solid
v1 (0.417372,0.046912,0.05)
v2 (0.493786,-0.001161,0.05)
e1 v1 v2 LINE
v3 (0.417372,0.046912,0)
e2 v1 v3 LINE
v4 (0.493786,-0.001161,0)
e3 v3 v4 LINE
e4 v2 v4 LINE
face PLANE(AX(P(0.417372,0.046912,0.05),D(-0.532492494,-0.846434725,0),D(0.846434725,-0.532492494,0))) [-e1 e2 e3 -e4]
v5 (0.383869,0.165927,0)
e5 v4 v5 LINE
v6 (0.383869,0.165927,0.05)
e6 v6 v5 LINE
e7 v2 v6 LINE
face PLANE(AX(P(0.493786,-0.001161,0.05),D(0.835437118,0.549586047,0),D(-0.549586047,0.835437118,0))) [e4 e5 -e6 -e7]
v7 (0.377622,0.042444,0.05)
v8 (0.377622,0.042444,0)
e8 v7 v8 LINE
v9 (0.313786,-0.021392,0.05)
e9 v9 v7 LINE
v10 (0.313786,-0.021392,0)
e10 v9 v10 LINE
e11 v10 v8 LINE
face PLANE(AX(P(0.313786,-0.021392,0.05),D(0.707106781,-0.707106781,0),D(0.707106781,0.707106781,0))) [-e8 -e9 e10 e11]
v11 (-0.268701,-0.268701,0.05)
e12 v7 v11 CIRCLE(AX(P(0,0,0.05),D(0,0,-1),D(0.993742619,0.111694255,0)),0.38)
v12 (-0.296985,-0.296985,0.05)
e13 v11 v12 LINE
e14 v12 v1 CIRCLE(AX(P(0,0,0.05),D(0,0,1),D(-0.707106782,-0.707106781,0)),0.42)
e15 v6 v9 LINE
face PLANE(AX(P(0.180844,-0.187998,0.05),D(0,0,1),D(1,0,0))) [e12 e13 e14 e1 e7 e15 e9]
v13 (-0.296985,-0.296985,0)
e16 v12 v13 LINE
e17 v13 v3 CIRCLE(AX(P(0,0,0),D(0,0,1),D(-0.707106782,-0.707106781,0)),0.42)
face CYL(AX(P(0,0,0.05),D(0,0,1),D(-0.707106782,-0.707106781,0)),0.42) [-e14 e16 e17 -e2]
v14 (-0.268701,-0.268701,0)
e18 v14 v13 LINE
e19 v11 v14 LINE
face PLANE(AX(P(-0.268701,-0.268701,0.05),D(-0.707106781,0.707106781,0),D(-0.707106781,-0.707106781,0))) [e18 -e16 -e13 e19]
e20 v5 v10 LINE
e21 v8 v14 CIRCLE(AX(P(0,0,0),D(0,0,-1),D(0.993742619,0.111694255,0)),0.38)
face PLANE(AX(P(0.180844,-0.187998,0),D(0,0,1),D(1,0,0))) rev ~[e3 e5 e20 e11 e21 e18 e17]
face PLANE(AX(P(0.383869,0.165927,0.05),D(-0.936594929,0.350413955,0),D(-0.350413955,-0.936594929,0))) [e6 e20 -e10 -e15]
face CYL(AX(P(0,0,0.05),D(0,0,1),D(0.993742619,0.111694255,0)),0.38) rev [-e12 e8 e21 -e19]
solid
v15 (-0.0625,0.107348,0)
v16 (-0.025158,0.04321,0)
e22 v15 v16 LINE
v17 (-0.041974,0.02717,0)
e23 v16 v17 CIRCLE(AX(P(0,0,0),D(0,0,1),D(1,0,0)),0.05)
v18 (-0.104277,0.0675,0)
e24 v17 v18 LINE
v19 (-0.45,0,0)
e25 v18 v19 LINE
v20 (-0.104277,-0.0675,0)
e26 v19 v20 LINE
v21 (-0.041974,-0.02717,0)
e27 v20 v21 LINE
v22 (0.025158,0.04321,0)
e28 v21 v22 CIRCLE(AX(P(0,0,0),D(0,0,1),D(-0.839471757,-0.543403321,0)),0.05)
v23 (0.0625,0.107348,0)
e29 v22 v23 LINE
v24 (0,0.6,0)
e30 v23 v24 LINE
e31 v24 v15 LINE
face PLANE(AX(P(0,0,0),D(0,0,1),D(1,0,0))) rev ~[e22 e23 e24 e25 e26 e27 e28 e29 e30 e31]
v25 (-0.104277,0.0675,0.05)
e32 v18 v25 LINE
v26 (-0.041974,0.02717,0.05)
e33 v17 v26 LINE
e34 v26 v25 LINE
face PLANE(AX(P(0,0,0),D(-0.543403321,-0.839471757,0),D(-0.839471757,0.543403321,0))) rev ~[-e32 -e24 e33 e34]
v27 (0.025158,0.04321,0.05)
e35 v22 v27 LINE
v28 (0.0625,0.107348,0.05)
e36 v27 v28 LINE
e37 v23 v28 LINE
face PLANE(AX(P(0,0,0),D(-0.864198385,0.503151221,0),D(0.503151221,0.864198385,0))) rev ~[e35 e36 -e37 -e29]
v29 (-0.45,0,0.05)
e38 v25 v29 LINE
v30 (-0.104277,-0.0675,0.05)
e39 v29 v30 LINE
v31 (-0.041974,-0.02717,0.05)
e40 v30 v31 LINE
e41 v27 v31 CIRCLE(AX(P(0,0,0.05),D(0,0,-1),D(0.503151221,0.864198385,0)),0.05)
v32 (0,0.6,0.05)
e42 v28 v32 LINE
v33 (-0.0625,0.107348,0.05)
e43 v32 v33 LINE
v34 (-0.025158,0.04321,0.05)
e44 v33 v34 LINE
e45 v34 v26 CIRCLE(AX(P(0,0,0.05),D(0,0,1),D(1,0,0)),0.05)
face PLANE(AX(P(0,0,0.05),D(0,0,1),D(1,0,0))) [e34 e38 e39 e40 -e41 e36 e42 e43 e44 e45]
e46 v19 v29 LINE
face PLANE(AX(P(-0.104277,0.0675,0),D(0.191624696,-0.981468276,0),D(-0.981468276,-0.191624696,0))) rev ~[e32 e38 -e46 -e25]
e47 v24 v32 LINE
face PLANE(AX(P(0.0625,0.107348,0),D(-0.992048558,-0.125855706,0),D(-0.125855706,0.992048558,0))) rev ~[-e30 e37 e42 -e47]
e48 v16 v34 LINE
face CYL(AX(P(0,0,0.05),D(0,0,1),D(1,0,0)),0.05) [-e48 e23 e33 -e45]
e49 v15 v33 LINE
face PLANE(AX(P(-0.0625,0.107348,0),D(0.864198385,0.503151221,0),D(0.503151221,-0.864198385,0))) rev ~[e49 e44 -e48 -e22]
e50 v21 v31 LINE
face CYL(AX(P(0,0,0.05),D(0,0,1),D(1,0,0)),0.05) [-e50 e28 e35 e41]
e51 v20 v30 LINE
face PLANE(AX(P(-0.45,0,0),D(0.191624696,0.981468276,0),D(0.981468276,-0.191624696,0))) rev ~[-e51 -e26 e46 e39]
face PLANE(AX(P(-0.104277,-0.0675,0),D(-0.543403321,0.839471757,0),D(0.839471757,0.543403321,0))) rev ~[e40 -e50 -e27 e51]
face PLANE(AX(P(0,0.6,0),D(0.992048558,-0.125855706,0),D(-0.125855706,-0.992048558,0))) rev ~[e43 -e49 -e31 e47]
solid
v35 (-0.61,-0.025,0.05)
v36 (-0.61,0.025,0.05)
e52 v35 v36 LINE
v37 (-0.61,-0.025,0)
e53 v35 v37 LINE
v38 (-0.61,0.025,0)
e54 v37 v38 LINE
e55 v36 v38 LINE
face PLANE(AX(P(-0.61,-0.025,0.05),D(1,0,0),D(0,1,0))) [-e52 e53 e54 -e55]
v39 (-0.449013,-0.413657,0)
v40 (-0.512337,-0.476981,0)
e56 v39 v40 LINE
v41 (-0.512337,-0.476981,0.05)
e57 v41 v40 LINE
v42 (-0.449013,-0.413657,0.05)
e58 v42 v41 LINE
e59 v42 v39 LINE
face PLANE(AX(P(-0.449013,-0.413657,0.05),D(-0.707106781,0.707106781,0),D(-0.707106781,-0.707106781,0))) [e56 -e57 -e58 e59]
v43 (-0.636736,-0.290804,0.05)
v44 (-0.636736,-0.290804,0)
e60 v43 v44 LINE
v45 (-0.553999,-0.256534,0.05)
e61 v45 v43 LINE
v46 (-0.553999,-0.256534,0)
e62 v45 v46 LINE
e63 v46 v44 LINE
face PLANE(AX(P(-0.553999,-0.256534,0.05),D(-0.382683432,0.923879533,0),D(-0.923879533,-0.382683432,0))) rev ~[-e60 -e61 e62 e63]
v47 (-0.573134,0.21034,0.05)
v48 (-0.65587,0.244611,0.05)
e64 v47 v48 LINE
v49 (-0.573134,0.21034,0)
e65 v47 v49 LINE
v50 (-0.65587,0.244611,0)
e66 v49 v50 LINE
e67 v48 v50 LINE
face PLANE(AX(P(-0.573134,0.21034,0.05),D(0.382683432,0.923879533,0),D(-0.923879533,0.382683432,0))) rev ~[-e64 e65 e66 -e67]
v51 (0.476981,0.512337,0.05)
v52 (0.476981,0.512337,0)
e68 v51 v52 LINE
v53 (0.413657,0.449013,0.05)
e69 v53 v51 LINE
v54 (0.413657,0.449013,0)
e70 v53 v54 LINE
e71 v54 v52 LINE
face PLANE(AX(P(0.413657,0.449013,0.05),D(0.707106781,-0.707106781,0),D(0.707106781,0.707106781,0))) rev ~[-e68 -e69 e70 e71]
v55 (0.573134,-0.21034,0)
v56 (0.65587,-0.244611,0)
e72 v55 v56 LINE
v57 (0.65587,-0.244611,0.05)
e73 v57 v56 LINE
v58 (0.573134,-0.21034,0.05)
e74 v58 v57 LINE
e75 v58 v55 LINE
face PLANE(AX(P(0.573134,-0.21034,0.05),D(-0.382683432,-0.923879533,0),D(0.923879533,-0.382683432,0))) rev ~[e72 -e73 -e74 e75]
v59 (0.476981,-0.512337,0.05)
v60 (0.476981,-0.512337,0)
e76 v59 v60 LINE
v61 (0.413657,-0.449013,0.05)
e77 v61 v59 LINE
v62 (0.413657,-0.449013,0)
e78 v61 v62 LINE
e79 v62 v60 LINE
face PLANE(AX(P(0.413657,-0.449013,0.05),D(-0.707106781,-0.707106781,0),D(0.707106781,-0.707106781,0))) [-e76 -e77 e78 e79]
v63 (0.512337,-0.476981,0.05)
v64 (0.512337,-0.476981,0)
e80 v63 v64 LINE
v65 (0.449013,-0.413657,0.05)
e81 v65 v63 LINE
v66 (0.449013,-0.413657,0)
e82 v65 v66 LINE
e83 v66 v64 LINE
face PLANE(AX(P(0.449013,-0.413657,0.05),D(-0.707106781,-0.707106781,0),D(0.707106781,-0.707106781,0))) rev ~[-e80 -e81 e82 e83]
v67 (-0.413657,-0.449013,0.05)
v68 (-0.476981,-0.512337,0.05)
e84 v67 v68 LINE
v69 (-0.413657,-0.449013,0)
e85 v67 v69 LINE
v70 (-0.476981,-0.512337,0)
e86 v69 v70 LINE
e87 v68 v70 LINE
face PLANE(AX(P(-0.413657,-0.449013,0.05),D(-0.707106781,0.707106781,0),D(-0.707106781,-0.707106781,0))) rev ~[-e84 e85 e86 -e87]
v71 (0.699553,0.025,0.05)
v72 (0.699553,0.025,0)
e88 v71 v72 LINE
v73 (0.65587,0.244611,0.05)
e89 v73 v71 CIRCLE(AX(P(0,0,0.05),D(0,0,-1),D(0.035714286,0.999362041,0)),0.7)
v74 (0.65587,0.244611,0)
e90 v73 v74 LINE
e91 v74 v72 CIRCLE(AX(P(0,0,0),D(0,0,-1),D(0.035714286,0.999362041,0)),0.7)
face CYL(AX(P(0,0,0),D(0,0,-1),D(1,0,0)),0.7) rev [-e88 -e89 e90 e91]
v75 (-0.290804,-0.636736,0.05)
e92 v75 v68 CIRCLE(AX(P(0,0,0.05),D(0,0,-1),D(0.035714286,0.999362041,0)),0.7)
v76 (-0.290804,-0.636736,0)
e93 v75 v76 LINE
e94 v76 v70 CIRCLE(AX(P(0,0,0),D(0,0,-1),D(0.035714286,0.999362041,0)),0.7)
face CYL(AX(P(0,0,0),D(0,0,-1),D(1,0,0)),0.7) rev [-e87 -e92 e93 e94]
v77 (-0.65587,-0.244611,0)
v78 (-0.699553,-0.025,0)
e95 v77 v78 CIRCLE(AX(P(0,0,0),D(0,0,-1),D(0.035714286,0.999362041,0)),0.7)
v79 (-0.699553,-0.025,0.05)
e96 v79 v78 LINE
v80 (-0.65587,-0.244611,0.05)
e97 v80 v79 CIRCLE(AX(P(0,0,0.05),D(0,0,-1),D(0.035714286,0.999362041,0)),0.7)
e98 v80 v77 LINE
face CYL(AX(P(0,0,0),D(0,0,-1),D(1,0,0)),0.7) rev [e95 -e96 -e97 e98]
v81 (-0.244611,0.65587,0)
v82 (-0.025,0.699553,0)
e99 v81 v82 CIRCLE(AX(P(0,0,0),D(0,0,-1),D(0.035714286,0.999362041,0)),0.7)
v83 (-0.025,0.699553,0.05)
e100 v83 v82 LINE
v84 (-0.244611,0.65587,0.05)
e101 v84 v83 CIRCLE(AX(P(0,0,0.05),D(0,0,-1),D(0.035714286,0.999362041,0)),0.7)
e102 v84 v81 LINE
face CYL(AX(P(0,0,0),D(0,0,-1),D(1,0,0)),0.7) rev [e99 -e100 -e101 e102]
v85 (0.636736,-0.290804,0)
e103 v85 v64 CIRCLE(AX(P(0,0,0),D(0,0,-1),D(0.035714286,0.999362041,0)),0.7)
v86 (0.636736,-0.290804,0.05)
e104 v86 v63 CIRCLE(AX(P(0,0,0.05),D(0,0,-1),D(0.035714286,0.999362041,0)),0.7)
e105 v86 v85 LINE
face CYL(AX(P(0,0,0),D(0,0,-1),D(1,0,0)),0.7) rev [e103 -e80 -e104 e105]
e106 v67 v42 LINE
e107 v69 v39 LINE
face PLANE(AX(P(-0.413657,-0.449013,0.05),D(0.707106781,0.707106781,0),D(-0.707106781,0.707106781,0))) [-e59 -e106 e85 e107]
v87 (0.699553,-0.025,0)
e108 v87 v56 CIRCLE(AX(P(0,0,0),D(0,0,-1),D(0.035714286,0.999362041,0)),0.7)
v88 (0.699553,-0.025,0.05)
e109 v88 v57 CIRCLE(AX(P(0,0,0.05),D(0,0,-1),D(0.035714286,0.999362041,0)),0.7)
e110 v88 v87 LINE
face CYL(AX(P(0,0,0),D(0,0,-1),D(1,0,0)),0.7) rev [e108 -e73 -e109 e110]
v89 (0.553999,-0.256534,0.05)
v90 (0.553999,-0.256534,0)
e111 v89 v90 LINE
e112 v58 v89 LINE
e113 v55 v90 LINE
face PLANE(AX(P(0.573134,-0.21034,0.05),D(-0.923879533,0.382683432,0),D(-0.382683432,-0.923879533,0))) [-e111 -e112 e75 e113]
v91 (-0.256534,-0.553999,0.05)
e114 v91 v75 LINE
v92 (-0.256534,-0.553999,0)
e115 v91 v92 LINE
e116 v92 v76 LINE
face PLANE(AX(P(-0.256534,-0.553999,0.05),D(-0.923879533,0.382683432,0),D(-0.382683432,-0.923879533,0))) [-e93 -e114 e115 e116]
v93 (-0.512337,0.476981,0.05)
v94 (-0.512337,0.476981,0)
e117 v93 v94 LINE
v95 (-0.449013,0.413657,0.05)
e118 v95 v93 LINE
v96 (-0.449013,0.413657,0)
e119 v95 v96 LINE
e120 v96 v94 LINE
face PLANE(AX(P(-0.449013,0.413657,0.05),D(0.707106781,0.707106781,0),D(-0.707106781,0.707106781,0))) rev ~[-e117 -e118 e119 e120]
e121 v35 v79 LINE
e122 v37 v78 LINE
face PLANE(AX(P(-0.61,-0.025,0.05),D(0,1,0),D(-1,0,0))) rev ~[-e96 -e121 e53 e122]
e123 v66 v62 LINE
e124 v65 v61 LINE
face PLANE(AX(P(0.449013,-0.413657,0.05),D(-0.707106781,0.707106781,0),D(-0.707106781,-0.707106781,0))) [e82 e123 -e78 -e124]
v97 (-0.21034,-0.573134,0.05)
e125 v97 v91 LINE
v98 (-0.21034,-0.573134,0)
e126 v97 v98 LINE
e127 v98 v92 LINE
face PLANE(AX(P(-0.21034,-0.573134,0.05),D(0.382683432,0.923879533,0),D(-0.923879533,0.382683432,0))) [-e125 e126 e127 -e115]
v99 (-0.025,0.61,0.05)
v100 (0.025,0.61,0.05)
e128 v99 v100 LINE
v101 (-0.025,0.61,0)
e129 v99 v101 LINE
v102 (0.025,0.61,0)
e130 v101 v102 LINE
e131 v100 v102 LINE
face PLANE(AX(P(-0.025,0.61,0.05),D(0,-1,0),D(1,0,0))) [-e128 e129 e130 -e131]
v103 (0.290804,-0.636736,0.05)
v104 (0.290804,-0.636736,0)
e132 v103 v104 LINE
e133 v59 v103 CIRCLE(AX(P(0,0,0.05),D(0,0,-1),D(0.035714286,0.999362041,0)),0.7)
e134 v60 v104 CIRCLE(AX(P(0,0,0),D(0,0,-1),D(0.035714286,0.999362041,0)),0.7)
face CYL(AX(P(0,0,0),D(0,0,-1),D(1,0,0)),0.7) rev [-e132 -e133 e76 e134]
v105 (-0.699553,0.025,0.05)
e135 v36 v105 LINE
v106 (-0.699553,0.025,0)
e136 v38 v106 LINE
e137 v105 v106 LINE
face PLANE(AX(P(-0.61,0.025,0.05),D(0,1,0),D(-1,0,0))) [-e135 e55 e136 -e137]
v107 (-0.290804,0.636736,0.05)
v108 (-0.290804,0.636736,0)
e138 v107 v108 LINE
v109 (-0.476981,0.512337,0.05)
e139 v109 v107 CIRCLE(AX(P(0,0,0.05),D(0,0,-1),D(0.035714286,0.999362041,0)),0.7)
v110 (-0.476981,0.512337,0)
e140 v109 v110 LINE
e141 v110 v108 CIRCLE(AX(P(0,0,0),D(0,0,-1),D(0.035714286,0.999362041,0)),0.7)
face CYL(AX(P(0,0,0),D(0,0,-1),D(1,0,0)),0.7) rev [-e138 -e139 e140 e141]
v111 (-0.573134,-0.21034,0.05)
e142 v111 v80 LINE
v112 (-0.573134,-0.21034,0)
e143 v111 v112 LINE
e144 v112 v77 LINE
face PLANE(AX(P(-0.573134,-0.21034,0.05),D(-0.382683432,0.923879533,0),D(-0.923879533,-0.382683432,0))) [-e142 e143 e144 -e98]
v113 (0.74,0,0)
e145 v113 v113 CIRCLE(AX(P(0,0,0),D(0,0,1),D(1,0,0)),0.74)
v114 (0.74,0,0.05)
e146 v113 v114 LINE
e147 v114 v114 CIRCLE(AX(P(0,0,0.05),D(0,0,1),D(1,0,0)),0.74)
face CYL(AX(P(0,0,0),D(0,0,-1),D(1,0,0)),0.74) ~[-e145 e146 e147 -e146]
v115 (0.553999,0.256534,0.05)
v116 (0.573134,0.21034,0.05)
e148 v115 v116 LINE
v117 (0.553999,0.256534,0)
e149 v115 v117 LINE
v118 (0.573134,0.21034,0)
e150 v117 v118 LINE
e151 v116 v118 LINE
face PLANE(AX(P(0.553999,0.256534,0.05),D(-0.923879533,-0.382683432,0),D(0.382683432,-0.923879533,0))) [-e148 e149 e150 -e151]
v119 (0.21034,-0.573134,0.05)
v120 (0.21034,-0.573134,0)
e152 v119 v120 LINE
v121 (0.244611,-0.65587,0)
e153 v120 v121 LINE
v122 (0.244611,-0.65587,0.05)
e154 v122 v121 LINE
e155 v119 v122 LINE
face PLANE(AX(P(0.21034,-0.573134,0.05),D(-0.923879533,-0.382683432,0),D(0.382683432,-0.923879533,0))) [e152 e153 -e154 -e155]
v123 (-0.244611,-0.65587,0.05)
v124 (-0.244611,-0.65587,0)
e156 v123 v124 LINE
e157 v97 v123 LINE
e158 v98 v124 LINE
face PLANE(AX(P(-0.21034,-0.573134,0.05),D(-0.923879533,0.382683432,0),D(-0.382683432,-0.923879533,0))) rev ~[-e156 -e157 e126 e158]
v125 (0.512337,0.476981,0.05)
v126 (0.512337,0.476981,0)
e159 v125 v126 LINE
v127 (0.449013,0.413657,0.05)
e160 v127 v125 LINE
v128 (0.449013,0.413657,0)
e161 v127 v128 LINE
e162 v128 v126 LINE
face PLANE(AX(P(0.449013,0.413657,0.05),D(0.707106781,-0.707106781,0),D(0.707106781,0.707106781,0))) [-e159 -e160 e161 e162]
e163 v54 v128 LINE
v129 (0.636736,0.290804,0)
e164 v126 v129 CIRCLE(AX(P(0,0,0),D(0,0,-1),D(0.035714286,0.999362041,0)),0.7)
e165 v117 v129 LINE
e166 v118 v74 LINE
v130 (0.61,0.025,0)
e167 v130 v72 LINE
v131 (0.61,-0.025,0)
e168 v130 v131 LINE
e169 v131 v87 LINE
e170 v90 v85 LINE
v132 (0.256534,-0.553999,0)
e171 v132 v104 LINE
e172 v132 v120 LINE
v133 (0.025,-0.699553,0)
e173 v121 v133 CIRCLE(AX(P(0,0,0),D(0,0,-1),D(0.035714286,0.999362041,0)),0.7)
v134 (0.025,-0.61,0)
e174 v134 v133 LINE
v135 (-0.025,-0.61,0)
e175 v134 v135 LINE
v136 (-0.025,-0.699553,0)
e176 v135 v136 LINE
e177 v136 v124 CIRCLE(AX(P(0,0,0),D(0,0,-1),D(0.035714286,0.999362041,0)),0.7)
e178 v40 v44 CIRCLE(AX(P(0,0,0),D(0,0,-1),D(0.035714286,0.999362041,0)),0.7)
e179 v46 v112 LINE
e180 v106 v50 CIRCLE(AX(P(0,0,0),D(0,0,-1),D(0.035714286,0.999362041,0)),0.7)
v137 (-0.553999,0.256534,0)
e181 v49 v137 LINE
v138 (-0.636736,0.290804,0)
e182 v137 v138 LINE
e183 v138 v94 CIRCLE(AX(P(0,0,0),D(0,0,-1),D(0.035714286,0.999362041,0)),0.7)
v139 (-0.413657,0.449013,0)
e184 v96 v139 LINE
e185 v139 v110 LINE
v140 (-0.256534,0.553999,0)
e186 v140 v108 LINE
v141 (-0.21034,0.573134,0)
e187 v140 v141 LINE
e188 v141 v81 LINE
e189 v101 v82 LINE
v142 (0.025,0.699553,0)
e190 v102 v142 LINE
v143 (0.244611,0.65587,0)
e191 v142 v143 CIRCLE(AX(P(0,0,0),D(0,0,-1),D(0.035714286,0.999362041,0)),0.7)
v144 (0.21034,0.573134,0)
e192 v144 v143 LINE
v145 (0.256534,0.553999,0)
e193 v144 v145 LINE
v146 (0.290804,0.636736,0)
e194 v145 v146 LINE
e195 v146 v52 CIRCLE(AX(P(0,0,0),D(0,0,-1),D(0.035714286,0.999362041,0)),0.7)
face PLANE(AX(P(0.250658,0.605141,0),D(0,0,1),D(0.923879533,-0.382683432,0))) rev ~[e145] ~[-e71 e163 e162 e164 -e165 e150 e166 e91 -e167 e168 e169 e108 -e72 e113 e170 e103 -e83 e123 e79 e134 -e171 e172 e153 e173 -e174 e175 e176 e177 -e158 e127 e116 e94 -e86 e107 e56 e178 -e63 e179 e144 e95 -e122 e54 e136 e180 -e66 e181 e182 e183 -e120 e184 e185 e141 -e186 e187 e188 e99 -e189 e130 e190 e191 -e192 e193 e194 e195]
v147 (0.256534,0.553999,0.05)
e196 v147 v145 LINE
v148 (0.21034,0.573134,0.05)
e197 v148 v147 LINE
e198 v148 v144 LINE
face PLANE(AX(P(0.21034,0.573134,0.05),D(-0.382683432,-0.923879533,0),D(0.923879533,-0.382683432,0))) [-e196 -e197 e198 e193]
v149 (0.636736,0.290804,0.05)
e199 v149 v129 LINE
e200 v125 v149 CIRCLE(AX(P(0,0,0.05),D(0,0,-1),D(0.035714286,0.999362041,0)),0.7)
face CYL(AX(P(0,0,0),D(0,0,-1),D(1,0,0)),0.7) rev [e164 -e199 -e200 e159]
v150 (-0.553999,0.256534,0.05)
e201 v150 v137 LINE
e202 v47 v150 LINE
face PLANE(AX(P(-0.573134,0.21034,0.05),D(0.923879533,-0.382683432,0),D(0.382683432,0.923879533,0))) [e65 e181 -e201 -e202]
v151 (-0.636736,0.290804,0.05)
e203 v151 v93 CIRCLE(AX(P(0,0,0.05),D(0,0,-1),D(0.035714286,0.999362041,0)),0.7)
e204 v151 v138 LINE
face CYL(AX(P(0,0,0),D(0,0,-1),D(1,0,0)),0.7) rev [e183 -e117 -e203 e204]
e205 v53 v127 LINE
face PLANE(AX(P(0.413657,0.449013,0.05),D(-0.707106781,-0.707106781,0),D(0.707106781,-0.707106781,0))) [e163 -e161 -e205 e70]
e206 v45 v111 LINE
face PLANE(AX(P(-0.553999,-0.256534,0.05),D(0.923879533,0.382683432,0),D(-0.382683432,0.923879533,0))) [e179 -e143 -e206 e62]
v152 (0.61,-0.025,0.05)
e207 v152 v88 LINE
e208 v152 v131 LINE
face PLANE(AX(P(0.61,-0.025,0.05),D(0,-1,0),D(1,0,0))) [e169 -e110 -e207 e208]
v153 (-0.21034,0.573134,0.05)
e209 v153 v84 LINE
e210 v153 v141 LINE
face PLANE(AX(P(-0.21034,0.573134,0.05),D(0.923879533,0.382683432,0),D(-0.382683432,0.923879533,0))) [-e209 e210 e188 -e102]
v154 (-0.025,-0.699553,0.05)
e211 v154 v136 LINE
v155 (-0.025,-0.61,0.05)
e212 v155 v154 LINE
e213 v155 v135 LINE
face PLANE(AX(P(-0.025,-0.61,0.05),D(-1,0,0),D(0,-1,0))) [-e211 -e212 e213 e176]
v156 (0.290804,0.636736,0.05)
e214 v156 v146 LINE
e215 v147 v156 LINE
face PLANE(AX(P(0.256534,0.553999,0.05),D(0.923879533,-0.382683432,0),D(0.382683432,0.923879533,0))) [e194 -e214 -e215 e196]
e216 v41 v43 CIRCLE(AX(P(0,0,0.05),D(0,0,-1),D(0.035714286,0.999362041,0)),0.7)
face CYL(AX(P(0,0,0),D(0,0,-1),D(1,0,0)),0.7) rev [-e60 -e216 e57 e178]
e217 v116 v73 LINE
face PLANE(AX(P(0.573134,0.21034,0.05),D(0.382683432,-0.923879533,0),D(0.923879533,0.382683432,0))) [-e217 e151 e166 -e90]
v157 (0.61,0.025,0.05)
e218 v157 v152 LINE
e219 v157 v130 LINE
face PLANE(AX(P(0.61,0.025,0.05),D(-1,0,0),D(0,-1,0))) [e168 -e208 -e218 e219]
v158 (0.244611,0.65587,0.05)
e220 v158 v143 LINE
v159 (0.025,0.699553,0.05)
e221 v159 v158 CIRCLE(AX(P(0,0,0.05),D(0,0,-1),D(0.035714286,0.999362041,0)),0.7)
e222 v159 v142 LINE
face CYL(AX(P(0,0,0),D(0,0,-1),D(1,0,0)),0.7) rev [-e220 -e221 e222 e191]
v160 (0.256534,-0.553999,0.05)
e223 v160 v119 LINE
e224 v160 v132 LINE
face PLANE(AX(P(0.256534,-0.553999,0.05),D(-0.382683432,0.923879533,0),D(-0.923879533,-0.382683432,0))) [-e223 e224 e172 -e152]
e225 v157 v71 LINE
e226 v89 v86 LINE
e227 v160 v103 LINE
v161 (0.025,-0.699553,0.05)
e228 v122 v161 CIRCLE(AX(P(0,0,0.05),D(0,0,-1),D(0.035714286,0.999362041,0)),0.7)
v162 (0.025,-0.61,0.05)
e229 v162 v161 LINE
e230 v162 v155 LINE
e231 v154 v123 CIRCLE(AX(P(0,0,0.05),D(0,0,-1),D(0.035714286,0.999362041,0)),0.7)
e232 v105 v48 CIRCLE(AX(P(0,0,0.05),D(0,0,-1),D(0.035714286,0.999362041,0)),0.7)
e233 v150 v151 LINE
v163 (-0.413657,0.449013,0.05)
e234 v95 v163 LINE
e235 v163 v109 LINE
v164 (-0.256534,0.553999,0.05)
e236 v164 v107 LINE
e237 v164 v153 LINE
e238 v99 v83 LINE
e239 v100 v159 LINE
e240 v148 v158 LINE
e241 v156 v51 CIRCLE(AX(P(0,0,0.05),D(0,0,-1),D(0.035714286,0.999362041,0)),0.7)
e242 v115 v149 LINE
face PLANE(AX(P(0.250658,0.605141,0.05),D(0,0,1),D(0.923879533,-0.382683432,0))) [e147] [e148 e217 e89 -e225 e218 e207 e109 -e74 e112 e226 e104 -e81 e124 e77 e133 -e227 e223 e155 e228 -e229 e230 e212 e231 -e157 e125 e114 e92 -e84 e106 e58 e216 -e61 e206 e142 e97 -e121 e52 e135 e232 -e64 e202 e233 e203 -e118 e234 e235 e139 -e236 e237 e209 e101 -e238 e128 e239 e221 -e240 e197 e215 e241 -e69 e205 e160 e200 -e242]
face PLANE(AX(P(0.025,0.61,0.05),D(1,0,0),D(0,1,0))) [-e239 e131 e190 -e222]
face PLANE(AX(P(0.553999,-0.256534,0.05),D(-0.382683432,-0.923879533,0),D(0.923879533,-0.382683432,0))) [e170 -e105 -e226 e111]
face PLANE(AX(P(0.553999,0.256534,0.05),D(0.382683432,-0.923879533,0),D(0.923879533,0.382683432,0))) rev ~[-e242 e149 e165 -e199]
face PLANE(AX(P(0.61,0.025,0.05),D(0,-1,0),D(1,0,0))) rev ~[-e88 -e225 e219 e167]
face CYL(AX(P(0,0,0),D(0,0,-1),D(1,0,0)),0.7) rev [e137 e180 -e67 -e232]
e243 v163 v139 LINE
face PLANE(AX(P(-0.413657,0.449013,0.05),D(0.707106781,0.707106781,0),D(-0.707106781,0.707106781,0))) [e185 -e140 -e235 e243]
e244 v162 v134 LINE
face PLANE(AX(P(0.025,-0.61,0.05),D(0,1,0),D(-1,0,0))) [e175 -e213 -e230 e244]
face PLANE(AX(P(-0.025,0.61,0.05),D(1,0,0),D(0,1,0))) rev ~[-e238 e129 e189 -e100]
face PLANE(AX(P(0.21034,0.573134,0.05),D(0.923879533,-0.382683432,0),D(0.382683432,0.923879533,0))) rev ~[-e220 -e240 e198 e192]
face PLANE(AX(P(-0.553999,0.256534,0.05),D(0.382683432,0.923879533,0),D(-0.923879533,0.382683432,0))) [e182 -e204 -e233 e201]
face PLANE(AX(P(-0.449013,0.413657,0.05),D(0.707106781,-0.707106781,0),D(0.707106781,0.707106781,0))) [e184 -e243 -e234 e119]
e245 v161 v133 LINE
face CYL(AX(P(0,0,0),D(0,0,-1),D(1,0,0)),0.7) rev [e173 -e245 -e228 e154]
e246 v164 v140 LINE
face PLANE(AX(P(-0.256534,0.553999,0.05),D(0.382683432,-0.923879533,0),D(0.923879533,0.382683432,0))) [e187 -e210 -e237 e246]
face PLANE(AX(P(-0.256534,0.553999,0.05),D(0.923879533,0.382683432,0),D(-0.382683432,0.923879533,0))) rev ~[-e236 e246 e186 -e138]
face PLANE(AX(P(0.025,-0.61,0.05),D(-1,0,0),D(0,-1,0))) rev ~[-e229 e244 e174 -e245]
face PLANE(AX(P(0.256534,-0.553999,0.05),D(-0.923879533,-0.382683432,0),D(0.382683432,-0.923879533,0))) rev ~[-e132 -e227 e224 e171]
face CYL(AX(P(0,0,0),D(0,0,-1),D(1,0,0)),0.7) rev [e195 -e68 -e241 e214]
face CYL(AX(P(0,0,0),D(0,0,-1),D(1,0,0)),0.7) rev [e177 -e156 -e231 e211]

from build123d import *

# Parameters (mm, degrees)
BOSS_EXTRUDE1_DEPTH   = 0.05
BOSS_EXTRUDE1_2_DEPTH = 0.05
SKETCH1_R             = 0.74
SKETCH1_R_2           = 0.7
BOSS_EXTRUDE1_3_DEPTH = 0.05
SKETCH2_R             = 0.05
BOSS_EXTRUDE2_DEPTH   = 0.05
SKETCH3_W             = 0.05
SKETCH3_H             = 0.09
BOSS_EXTRUDE3_DEPTH   = 0.05
CIRPATTERN1_COUNT     = 16
BOSS_EXTRUDE4_DEPTH   = 0.05


with BuildPart() as part:
    # Sketch1 → Boss-Extrude1 (new body)
    with BuildSketch(Plane.XY):
        Polygon((0, 0), (0.0625, 0.107348242), (0, 0.6), (-0.0625, 0.107348242), align=None)
    extrude(amount=BOSS_EXTRUDE1_DEPTH)



with BuildPart() as body_2:
    # Sketch1 → Boss-Extrude1 2 (new body)
    with BuildSketch(Plane.XY):
        Polygon((-0.45, 0), (-0.104276771, -0.0675), (0, 0), (-0.104276771, 0.0675), align=None)
    extrude(amount=BOSS_EXTRUDE1_2_DEPTH)


with BuildPart() as body_3:
    # Sketch1 → Boss-Extrude1 3 (new body)
    with BuildSketch(Plane.XY):
        Circle(SKETCH1_R)
        Circle(SKETCH1_R_2, mode=Mode.SUBTRACT)
    extrude(amount=BOSS_EXTRUDE1_3_DEPTH)

    # Sketch3 → Boss-Extrude3 (add)
    with BuildSketch(Plane.XY.offset(0.05)):
        with Locations((0, 0.655)):
            Rectangle(SKETCH3_W, SKETCH3_H)
    boss_extrude3 = extrude(amount=-BOSS_EXTRUDE3_DEPTH)

    # CirPattern1: Boss-Extrude3 ×16 about axis
    cirpattern1_axis = Axis((0, 0, 0), (0, 0, 1))
    for i in range(1, CIRPATTERN1_COUNT):
        add(boss_extrude3.rotate(cirpattern1_axis, i * 360 / CIRPATTERN1_COUNT))


with BuildPart() as part_1:
    add(part.part)

    add(body_2.part)  # Boss-Extrude2 merges body 2
    # Sketch2 → Boss-Extrude2 (add)
    with BuildSketch(Plane.XY.offset(0.05)):
        Circle(SKETCH2_R)
    extrude(amount=-BOSS_EXTRUDE2_DEPTH)


with BuildPart() as body_3_2:
    # Sketch4 → Boss-Extrude4 (new body)
    with BuildSketch(Plane.XY.offset(0.05)):
        with BuildLine():
            Line((-0.268700577, -0.268700577), (-0.296984848, -0.296984848))
            ThreePointArc((-0.296984848, -0.296984848), (0.182179719, -0.378431698), (0.4173719, 0.046911587))
            Line((0.4173719, 0.046911587), (0.493786157, -0.001160659))
            Line((0.493786157, -0.001160659), (0.383868948, 0.165926764))
            Line((0.383868948, 0.165926764), (0.313786157, -0.021392222))
            Line((0.313786157, -0.021392222), (0.377622195, 0.042443816))
            ThreePointArc((0.377622195, 0.042443816), (0.16482927, -0.342390584), (-0.268700577, -0.268700577))
        make_face()
    extrude(amount=-BOSS_EXTRUDE4_DEPTH)


solid = Compound([body_3.part, part_1.part, body_3_2.part])
